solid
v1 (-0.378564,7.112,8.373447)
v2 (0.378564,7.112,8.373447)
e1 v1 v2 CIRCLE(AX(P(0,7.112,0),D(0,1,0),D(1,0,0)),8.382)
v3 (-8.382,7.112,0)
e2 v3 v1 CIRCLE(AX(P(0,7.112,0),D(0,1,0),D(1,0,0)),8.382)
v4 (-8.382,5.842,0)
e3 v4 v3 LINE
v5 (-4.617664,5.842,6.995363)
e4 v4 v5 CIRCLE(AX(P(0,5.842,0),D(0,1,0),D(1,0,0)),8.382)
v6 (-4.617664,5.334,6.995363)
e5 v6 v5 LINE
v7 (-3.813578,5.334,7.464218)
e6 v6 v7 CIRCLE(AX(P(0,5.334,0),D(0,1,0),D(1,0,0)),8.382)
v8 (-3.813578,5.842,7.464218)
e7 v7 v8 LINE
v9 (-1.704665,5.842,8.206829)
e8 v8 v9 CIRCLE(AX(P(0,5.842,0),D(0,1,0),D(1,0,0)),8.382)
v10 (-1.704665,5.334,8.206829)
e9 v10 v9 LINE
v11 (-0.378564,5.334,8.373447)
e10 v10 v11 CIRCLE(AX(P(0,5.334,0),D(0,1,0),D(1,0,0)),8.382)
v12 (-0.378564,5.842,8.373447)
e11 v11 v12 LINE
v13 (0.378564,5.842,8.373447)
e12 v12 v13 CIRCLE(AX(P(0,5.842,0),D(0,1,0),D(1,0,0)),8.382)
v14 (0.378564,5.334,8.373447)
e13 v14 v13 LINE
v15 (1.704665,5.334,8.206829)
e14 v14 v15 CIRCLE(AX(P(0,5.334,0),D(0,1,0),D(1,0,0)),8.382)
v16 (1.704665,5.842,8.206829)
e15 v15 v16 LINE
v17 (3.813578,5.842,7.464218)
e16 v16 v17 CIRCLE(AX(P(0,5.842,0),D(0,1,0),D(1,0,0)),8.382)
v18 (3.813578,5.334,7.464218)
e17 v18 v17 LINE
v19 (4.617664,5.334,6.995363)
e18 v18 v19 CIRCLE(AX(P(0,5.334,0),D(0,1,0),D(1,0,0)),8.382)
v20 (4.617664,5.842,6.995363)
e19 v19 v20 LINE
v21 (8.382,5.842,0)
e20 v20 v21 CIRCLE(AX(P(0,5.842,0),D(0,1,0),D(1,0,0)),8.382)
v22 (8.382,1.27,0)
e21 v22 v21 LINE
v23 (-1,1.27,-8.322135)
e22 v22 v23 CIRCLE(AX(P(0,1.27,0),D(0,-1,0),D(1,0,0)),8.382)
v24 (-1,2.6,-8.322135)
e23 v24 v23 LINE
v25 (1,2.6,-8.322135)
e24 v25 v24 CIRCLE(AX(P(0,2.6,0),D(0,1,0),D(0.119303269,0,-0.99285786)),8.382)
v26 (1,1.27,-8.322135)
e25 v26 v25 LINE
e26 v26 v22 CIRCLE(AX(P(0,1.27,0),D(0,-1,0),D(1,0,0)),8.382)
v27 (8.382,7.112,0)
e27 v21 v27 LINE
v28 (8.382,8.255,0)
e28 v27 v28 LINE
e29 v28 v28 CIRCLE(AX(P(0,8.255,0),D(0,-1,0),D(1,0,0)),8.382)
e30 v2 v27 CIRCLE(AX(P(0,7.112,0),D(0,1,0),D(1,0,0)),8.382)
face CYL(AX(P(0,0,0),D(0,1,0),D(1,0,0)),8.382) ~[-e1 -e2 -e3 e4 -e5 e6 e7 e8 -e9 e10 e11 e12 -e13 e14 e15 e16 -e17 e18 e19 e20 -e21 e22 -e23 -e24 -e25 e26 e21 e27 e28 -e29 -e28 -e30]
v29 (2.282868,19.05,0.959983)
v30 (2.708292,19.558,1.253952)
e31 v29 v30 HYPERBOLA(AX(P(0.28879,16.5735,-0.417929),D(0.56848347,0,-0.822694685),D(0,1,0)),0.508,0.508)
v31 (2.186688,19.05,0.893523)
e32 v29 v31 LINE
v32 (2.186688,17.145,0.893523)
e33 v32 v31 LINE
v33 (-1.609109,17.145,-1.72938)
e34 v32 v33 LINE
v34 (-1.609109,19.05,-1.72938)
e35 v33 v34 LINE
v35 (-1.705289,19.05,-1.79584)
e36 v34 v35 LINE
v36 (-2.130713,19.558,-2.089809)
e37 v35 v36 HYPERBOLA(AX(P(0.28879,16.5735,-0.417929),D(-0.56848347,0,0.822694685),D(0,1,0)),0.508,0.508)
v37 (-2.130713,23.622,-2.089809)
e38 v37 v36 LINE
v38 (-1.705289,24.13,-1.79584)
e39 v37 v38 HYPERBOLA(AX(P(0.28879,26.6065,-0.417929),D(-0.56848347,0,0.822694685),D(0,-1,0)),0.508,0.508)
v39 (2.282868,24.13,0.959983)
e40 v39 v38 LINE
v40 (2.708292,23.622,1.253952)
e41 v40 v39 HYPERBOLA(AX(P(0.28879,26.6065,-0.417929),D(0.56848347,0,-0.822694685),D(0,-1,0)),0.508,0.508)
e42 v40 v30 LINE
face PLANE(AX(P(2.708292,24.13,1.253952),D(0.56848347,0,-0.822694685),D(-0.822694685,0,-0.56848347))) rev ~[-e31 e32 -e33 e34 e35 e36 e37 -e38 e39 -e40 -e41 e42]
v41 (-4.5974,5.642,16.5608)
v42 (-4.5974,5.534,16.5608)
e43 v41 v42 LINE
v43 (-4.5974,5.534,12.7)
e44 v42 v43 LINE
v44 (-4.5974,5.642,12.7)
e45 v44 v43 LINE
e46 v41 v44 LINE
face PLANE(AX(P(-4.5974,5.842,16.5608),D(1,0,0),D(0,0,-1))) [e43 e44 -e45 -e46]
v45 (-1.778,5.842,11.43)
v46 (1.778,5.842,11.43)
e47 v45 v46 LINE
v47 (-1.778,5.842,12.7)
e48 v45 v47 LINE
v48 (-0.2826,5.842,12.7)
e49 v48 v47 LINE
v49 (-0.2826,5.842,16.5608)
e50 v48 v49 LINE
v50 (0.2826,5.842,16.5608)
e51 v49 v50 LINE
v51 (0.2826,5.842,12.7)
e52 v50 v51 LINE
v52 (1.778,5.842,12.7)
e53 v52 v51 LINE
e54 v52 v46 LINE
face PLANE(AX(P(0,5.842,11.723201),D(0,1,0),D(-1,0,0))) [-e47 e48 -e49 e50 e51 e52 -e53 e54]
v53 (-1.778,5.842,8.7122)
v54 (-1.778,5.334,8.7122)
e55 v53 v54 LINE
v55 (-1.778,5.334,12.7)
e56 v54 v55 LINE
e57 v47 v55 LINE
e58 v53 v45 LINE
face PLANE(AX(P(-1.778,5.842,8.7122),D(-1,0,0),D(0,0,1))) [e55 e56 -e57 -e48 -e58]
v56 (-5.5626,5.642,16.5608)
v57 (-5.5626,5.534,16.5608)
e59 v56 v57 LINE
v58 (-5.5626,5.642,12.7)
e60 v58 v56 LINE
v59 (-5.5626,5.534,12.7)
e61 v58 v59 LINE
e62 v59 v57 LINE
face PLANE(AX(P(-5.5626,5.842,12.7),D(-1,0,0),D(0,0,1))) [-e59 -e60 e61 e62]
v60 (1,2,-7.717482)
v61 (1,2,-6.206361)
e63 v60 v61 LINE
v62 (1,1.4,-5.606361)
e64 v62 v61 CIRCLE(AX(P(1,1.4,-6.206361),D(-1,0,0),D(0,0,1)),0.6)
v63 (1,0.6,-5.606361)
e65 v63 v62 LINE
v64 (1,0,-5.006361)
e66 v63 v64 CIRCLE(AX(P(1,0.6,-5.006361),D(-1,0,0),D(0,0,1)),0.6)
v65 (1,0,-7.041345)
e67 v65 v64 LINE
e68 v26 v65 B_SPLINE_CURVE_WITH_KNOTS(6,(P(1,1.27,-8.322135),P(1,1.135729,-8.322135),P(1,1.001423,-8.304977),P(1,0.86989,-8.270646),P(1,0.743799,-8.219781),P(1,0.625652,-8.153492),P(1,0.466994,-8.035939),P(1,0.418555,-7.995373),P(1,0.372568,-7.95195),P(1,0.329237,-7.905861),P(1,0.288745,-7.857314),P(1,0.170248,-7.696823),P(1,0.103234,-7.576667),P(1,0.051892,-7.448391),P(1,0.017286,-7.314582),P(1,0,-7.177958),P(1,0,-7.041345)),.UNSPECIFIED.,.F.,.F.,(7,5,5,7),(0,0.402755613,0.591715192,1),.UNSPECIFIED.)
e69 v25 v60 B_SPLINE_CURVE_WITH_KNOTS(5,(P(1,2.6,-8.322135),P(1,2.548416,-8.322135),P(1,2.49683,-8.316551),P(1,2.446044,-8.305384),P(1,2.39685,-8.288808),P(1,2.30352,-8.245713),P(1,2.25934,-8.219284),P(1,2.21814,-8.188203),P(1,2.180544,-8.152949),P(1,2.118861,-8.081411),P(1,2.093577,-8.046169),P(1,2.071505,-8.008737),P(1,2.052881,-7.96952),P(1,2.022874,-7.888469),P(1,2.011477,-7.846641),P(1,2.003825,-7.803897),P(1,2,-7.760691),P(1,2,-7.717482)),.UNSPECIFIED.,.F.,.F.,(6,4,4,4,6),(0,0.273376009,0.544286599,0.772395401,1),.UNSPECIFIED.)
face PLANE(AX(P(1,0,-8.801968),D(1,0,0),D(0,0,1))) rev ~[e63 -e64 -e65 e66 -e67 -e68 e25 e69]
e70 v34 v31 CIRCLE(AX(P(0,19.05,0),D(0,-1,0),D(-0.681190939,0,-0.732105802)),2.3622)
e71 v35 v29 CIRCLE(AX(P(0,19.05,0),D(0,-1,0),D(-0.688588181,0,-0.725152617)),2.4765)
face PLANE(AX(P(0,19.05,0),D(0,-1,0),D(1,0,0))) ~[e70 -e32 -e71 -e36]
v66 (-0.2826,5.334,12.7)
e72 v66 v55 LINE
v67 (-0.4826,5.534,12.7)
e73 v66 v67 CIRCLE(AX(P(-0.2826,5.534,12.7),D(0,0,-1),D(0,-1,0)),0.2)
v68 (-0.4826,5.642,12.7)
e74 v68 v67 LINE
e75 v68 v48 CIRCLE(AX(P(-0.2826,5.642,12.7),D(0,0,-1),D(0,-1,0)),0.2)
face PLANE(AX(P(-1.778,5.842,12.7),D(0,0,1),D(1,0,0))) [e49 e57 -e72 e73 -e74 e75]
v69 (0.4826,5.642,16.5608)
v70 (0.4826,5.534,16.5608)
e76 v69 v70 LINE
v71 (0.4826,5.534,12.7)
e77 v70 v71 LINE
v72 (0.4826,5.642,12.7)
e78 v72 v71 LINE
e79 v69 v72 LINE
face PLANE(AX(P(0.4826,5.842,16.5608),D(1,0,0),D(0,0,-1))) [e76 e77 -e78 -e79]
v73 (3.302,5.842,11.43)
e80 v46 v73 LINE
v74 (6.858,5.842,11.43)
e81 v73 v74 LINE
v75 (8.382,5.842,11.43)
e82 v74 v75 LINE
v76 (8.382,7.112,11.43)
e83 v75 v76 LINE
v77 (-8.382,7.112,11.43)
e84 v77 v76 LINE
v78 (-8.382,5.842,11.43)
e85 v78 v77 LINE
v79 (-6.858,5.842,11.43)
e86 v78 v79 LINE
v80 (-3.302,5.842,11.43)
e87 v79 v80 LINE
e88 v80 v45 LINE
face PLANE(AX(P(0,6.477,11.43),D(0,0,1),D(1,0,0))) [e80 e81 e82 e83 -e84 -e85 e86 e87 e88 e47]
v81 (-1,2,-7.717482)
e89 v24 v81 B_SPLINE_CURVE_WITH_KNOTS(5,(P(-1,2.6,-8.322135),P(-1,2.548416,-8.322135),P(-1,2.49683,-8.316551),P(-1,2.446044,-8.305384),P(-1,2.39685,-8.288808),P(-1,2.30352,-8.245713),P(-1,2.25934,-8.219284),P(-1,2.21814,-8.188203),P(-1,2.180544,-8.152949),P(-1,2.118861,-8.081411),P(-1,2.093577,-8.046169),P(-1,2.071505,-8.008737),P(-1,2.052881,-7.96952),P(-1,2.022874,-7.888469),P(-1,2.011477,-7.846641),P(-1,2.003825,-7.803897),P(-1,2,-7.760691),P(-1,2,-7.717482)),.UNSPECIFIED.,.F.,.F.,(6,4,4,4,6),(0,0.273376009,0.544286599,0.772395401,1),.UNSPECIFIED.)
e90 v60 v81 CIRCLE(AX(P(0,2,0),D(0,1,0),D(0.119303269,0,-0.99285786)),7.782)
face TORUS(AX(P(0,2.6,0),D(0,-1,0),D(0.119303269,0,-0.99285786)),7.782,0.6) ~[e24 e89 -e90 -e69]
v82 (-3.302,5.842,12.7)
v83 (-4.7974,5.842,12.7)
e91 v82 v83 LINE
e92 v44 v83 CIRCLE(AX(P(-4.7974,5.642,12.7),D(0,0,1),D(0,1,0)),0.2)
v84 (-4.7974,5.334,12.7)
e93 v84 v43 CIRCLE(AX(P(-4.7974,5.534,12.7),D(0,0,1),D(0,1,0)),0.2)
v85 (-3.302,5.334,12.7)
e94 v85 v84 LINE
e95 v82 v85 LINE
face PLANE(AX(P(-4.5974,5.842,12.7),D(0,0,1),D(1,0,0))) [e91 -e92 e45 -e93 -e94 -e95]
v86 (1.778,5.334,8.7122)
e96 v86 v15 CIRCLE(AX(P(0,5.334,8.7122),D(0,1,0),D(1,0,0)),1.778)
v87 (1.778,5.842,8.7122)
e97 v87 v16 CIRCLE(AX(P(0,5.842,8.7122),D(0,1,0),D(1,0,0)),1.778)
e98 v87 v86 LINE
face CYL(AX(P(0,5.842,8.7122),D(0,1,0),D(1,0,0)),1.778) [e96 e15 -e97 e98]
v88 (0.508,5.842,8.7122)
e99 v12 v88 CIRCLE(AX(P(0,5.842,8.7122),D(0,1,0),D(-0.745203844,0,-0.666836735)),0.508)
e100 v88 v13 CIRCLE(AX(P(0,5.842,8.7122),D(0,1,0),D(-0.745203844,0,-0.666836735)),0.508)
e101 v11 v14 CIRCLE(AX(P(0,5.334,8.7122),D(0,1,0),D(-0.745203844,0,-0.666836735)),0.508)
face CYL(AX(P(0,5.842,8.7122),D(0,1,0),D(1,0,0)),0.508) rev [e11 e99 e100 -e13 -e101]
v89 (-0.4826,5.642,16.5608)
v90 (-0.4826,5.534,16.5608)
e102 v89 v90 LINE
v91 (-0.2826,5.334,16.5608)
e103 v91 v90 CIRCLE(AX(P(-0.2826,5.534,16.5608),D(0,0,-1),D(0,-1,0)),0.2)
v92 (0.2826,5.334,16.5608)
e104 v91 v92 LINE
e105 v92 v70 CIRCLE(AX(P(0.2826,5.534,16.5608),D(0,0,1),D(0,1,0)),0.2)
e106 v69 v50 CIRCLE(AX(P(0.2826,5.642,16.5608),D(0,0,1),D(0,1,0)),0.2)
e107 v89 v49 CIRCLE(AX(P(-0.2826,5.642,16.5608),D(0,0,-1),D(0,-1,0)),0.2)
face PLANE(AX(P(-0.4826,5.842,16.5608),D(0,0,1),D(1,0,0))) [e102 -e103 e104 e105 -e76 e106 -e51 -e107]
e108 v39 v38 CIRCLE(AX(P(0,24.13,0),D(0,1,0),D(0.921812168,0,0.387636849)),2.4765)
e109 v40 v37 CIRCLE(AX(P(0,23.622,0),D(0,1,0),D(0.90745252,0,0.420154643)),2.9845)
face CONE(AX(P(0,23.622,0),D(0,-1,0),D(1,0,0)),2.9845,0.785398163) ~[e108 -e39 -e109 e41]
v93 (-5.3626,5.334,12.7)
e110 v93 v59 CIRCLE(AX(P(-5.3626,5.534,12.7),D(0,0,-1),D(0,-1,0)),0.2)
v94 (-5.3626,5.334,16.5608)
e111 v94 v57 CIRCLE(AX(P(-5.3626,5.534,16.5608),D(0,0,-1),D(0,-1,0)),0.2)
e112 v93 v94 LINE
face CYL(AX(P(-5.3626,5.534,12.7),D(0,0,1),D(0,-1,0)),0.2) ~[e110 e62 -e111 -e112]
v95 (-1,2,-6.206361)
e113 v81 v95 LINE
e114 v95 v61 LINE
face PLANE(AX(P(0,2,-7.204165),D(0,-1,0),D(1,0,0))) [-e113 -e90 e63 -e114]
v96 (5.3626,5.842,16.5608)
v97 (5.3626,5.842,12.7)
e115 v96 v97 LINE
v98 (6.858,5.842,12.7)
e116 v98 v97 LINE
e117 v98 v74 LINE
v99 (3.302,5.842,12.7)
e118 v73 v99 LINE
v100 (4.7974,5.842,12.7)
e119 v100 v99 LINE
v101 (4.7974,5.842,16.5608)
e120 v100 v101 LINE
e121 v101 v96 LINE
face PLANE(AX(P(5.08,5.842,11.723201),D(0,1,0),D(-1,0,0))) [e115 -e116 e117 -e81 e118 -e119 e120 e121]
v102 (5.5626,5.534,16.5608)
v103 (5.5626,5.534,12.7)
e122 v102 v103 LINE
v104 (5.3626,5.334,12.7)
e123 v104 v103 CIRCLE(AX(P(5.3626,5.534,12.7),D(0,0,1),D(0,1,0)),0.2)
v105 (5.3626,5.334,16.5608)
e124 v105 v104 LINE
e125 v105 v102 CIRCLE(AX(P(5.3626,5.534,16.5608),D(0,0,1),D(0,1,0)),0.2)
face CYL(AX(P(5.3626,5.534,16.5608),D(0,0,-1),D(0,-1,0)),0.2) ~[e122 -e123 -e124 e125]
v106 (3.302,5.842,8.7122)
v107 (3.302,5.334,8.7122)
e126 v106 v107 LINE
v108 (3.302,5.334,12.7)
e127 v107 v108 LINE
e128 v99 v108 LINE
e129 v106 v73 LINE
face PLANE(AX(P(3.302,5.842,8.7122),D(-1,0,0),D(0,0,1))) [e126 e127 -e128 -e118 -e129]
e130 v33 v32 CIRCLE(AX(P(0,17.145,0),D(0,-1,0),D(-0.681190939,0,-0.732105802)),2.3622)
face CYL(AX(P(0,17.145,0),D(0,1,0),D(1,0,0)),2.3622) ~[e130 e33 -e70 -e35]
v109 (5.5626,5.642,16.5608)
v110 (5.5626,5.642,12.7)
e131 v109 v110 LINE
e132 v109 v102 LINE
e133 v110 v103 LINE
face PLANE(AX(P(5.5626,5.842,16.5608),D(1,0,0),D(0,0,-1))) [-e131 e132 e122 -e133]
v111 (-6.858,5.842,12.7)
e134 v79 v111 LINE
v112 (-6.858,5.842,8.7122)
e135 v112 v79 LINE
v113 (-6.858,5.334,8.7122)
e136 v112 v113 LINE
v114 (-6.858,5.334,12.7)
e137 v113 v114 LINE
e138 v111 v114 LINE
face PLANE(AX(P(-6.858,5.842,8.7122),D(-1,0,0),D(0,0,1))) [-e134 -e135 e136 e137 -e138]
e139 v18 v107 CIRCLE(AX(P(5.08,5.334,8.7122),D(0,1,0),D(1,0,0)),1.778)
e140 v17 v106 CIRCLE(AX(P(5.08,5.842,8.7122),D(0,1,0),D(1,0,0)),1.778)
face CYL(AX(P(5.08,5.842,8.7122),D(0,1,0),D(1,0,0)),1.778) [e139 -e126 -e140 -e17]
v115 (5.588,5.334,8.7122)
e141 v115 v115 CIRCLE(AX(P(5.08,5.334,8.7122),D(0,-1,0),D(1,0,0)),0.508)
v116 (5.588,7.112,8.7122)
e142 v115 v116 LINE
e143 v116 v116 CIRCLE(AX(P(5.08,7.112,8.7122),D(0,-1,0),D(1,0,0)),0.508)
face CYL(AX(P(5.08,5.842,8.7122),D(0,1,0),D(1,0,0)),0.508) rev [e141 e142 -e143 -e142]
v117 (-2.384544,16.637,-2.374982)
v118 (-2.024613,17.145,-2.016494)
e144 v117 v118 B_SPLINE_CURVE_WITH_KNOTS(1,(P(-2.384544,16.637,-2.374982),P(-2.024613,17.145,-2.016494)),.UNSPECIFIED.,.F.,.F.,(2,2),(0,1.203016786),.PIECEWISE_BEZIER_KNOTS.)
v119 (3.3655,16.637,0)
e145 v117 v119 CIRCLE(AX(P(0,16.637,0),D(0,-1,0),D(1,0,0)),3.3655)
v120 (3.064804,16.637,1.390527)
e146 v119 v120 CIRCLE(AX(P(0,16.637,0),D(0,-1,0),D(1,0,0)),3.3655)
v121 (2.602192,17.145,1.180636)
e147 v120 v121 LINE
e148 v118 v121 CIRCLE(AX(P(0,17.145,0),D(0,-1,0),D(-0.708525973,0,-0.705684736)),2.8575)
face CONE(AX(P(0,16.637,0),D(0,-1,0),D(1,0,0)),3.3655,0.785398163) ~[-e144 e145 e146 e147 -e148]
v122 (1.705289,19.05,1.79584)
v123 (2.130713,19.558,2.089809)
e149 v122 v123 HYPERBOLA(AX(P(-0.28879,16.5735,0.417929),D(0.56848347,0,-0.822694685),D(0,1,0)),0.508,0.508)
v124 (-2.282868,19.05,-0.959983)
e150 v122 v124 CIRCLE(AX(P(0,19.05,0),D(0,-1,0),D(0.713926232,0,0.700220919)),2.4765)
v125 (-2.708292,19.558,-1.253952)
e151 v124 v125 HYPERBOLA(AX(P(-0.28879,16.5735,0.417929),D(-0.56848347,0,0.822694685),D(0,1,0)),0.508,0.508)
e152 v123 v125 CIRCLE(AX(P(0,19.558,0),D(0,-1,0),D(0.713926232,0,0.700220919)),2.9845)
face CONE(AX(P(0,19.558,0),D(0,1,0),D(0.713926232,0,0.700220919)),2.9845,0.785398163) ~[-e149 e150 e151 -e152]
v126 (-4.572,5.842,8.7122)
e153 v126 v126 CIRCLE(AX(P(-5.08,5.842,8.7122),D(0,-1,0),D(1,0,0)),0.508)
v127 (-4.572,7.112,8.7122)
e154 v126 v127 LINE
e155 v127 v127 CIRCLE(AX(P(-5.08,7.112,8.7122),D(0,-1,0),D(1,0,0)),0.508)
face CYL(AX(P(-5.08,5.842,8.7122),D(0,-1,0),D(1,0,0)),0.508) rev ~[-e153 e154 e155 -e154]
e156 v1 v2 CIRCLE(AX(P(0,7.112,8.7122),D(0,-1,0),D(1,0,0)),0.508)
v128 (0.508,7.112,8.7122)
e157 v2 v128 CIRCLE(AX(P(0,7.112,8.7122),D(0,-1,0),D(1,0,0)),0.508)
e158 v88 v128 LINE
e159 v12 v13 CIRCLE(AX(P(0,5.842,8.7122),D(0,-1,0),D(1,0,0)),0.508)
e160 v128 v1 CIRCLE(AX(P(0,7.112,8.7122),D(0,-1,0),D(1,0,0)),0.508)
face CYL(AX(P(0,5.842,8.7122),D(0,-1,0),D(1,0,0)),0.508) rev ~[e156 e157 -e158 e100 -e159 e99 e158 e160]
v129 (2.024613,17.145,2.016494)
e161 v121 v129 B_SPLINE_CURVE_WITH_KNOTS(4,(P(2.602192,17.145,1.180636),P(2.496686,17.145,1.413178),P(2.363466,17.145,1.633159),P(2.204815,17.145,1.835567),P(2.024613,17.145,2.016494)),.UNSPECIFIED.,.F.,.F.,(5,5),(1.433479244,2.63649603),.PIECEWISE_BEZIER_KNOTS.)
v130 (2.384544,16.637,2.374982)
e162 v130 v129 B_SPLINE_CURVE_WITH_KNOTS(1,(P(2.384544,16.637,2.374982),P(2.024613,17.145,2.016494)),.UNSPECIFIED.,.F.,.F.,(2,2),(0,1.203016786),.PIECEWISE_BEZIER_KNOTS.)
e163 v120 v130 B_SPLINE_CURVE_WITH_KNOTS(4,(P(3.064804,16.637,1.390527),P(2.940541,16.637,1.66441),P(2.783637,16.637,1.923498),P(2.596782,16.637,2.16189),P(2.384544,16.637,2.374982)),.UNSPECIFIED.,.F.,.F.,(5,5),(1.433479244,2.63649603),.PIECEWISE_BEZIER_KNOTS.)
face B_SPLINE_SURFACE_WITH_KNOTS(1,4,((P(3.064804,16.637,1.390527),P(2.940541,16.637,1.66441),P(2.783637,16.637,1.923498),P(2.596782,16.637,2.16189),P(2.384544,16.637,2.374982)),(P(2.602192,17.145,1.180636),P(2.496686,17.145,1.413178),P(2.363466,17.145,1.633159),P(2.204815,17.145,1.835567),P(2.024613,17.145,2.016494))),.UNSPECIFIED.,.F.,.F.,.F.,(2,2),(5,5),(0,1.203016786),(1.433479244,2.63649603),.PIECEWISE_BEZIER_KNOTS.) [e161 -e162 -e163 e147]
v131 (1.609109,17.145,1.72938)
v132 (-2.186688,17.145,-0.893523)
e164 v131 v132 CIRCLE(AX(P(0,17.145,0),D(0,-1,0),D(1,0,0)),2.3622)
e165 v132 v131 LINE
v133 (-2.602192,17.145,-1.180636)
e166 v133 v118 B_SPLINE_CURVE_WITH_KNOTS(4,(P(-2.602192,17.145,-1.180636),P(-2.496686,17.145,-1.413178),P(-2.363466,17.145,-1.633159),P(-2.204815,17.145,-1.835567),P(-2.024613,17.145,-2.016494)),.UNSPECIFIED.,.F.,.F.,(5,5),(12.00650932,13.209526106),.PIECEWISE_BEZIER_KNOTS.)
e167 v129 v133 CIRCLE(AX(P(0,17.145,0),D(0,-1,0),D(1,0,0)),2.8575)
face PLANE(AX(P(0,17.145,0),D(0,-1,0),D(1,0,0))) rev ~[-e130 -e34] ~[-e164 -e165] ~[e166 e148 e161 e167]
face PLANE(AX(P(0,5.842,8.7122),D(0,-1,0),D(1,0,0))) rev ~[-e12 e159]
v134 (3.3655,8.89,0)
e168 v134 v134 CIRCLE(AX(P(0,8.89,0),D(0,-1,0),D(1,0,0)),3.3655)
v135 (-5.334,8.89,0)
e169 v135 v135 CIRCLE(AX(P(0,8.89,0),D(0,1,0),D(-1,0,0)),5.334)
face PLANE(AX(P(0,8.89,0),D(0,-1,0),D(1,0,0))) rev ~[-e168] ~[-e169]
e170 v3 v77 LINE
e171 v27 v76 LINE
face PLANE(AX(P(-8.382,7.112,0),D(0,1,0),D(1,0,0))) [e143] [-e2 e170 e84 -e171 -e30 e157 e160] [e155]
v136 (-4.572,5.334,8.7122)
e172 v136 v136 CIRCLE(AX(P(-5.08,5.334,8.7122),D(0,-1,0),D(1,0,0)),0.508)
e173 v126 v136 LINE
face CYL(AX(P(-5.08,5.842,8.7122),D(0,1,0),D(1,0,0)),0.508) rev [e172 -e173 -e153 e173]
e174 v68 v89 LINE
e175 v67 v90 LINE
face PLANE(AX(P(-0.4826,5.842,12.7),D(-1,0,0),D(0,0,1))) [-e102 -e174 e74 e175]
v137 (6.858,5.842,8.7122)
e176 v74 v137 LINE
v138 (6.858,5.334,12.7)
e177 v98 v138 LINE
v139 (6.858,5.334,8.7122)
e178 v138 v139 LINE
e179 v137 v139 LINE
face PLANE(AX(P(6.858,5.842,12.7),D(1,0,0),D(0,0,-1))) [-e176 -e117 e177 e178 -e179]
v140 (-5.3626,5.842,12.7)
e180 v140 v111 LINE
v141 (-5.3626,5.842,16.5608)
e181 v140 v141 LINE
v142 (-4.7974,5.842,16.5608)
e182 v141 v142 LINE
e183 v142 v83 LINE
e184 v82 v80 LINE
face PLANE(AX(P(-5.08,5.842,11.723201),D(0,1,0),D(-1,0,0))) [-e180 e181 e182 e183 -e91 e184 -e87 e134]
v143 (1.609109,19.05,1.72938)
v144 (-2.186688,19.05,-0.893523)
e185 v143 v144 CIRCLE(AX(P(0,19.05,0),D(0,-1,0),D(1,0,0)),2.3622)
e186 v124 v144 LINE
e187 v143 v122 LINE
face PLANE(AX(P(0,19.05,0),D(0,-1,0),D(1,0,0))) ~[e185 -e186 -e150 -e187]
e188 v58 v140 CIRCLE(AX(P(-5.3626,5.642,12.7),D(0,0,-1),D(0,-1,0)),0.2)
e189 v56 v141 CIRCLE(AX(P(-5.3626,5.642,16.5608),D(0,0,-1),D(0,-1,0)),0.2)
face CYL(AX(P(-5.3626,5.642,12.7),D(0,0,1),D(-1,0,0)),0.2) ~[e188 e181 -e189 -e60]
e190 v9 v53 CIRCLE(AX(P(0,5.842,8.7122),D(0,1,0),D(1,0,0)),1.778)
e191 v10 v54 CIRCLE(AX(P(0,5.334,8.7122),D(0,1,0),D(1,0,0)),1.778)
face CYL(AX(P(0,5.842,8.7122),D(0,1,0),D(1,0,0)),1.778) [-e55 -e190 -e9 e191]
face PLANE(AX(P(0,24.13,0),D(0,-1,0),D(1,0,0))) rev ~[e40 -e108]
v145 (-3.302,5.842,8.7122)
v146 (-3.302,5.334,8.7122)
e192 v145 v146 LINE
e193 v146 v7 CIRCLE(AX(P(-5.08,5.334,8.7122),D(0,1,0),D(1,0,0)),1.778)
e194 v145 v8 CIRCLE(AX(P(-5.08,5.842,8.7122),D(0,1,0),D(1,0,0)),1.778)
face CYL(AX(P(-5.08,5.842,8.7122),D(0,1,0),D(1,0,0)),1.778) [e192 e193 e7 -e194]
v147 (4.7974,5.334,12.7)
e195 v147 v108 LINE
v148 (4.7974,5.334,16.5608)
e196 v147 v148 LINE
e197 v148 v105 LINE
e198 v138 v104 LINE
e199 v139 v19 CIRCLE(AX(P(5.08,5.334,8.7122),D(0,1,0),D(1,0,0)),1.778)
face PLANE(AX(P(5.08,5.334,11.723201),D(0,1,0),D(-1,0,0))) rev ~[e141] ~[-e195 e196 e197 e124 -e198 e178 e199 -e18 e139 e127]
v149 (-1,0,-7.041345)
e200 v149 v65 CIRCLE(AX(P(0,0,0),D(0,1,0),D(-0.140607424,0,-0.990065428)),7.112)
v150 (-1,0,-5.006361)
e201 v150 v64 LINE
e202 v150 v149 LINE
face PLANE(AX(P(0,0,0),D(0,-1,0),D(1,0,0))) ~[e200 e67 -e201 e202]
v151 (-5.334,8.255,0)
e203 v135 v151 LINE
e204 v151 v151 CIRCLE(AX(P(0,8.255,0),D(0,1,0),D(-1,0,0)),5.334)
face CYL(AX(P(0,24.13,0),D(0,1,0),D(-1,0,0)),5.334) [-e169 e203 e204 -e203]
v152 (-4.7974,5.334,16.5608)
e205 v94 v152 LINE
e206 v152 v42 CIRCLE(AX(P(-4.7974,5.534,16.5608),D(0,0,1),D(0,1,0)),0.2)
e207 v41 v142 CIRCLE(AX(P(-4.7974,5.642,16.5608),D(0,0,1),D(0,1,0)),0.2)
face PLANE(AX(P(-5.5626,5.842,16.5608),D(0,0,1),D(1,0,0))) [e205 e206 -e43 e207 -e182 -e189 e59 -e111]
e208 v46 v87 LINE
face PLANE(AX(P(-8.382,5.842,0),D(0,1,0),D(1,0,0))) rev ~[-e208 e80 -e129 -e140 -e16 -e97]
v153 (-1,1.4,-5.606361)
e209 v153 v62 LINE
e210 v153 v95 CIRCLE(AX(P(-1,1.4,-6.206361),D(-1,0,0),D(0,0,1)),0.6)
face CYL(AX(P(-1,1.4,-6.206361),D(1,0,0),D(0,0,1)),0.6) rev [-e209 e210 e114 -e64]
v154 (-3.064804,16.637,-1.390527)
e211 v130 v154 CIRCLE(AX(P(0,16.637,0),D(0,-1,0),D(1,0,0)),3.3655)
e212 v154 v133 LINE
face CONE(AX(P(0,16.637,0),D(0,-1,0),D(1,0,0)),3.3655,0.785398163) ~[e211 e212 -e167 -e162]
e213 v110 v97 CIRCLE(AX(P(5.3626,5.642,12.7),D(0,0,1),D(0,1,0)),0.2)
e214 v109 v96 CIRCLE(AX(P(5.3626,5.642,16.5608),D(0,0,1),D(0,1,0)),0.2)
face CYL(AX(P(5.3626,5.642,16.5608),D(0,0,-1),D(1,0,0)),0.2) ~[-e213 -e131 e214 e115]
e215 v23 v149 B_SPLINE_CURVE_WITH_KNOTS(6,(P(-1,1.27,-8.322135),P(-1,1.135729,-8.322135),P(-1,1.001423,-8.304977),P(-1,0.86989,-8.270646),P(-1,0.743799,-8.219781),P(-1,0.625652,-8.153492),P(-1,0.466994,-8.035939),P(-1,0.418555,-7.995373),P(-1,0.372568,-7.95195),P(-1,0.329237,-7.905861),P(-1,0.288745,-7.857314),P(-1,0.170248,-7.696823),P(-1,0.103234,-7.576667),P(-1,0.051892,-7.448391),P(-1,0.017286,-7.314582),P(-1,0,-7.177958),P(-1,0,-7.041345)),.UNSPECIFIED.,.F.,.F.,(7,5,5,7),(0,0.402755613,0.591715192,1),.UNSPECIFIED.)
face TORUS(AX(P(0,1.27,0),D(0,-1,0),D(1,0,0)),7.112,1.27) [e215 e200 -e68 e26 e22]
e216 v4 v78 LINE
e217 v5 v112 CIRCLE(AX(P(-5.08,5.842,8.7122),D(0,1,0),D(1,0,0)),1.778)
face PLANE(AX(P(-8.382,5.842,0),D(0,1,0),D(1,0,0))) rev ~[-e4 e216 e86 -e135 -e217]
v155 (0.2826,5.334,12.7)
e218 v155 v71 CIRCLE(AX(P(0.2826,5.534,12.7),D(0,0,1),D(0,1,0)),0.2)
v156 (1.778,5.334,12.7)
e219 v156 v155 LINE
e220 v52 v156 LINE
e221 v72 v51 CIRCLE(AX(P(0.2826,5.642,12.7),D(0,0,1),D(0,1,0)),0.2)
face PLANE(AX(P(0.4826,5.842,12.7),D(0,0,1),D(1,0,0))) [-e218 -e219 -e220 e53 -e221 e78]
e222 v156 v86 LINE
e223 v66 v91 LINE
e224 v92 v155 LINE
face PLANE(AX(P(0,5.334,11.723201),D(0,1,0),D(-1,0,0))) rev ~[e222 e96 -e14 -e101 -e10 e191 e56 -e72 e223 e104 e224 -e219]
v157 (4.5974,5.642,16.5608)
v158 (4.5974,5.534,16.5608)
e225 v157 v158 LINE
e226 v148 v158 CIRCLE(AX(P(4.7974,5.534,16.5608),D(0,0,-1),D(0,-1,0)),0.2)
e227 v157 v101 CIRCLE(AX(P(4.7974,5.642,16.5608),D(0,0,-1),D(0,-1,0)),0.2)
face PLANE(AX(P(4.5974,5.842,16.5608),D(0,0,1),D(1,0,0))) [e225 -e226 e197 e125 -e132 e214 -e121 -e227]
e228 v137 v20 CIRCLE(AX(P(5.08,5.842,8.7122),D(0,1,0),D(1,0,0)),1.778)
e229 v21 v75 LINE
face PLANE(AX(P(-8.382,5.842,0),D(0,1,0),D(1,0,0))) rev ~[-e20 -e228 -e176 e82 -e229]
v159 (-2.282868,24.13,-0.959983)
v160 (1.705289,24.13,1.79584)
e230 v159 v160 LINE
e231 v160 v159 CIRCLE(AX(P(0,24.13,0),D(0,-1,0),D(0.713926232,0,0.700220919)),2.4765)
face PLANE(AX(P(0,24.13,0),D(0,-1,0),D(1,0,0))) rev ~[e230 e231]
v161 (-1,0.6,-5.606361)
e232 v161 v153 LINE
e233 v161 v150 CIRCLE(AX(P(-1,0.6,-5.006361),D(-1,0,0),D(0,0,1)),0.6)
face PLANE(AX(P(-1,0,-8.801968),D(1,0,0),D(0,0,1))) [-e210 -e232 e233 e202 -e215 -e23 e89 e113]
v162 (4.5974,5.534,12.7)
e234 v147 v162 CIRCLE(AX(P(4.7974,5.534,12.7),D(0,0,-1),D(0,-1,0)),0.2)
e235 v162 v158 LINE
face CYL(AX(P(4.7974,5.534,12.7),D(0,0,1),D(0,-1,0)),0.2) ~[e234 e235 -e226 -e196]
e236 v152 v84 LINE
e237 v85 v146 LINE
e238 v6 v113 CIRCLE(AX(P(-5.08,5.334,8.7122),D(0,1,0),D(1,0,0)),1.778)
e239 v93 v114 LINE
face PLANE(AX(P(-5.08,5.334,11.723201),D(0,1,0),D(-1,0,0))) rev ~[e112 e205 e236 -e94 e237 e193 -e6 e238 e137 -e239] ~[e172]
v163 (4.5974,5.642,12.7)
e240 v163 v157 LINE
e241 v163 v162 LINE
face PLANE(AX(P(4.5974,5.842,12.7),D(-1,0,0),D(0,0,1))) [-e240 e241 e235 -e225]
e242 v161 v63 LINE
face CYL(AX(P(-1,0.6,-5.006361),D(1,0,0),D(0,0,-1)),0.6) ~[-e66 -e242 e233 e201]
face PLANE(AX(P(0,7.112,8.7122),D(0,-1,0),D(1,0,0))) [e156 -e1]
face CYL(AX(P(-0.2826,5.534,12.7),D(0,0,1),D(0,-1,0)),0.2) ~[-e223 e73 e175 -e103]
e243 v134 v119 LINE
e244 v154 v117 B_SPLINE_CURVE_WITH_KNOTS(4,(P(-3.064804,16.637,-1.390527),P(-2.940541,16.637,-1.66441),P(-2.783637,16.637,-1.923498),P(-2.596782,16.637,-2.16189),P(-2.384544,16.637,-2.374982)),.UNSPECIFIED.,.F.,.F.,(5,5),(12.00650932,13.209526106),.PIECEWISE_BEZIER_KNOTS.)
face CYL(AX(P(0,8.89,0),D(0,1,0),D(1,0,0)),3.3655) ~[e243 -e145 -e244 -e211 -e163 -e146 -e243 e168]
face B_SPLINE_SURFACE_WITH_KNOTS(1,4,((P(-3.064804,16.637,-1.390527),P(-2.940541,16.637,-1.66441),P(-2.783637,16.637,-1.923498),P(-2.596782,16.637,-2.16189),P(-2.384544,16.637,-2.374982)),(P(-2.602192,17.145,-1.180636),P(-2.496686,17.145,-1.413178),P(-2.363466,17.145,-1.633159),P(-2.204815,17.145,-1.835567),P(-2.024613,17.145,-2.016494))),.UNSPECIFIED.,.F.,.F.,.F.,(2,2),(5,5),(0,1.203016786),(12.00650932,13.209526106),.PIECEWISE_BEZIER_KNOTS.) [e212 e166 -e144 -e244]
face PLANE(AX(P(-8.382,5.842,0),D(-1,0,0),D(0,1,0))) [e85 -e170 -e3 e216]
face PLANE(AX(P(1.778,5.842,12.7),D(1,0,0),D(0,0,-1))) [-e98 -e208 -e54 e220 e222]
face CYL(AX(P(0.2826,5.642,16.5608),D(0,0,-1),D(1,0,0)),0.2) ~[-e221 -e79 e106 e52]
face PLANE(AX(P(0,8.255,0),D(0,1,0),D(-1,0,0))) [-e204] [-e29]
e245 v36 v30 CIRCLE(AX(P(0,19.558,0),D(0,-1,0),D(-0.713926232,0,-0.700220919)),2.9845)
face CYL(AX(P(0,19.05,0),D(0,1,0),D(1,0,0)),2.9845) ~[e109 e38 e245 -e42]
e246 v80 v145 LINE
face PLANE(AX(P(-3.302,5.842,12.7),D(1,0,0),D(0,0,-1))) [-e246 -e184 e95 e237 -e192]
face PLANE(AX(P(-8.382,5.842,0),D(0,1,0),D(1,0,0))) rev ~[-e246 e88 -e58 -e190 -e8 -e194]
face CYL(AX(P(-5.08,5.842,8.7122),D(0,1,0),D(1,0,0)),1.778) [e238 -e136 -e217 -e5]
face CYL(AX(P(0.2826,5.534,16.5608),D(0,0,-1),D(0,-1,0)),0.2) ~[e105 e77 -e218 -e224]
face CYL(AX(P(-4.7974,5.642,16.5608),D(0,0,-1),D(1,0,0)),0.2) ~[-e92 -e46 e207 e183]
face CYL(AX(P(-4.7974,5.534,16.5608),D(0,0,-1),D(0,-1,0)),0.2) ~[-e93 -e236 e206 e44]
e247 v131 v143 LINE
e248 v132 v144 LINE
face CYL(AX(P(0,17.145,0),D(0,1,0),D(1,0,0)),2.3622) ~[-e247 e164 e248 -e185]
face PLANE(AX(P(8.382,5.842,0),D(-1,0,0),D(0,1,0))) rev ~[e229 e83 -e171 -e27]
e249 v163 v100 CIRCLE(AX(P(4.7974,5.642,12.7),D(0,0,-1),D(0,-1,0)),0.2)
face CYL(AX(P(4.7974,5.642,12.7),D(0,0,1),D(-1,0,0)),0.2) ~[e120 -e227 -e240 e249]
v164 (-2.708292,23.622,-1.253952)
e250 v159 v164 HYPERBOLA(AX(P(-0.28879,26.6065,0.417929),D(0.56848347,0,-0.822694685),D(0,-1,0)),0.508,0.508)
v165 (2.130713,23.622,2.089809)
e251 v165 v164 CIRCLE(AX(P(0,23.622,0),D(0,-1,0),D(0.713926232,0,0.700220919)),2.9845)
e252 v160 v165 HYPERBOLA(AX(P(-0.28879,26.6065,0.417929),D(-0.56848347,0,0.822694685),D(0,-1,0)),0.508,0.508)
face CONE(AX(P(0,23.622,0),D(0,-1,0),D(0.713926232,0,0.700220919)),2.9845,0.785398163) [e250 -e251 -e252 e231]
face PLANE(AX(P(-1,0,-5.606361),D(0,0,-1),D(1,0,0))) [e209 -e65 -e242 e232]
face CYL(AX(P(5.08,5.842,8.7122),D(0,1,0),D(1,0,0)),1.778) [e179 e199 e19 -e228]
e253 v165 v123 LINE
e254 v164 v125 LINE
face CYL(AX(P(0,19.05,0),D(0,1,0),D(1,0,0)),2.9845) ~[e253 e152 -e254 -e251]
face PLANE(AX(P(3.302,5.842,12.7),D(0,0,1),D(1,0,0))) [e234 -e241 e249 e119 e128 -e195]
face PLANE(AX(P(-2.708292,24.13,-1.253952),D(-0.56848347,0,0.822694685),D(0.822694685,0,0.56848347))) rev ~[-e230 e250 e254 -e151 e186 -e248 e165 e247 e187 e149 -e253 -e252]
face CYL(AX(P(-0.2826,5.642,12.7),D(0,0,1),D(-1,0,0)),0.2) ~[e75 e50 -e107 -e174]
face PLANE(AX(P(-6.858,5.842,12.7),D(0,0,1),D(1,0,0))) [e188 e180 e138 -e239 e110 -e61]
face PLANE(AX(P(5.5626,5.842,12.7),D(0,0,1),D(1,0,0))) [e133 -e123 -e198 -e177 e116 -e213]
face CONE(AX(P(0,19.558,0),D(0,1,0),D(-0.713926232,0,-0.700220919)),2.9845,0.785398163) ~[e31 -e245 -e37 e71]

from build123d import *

# Parameters (mm, degrees)
SKETCH2_W           = 16.764
SKETCH2_H           = 1.27
BOSS_EXTRUDE1_DEPTH = 11.43
SKETCH3_R           = 0.508
BOSS_EXTRUDE2_DEPTH = 0.508
SKETCH5_R           = 8.382
SKETCH5_R_2         = 5.334
CUT_EXTRUDE2_DEPTH  = 15.875
LPATTERN1_COUNT     = 2
LPATTERN1_PITCH     = 5.08
LPATTERN2_COUNT     = 2
LPATTERN2_PITCH     = 5.08
SKETCH7_R           = 0.508
CUT_EXTRUDE3_DEPTH  = 1.27
CUT_EXTRUDE4_DEPTH  = 6.985
CHAMFER1_SIZE       = 0.508
FILLET1_R           = 1.27
FILLET2_R           = 0.2
SKETCH9_W           = 2
SKETCH9_H           = 3.195606775
CUT_EXTRUDE5_DEPTH  = 2
FILLET3_R           = 0.6


with BuildPart() as part:
    # Sketch1 → Base-Revolve (revolve)
    with BuildSketch(Plane.XY):
        Polygon((0, 0), (8.382, 0), (8.382, 8.89), (3.3655, 8.89), (3.3655, 17.145), (2.3622, 17.145), (2.3622, 19.05), (2.9845, 19.05), (2.9845, 24.13), (0, 24.13), align=None)
    revolve(axis=Axis((0, 0, 0), (0, -1, 0)))

    # Sketch2 → Boss-Extrude1 (add)
    with BuildSketch(Plane.XY):
        with Locations((0, 6.477)):
            Rectangle(SKETCH2_W, SKETCH2_H)
    extrude(amount=BOSS_EXTRUDE1_DEPTH)

    # Sketch3 → Boss-Extrude2 (add)
    with BuildSketch(Plane.XZ.offset(-5.842)):
        with BuildLine():
            Line((-1.778, 12.7), (-0.4826, 12.7))
            Line((-0.4826, 12.7), (-0.4826, 16.5608))
            Line((-0.4826, 16.5608), (0.4826, 16.5608))
            Line((0.4826, 16.5608), (0.4826, 12.7))
            Line((0.4826, 12.7), (1.778, 12.7))
            Line((1.778, 12.7), (1.778, 8.7122))
            ThreePointArc((1.778, 8.7122), (0, 6.9342), (-1.778, 8.7122))
            Line((-1.778, 8.7122), (-1.778, 12.7))
        make_face()
        with Locations((0, 8.7122)):
            Circle(SKETCH3_R, mode=Mode.SUBTRACT)
    boss_extrude2 = extrude(amount=BOSS_EXTRUDE2_DEPTH)

    # Sketch5 → Cut-Extrude2 (cut)
    with BuildSketch(Plane(origin=(0, 24.13, 0), x_dir=(-1, 0, 0), z_dir=(0, 1, 0))):
        Circle(SKETCH5_R)
        Circle(SKETCH5_R_2, mode=Mode.SUBTRACT)
    extrude(amount=-CUT_EXTRUDE2_DEPTH, mode=Mode.SUBTRACT)

    # LPattern1: Boss-Extrude2 ×2
    with Locations(*[(-i * LPATTERN1_PITCH, 0, 0) for i in range(1, LPATTERN1_COUNT)]):
        add(boss_extrude2)

    # LPattern2: Boss-Extrude2 ×2
    with Locations(*[(i * LPATTERN2_PITCH, 0, 0) for i in range(1, LPATTERN2_COUNT)]):
        add(boss_extrude2)

    # Sketch7 → Cut-Extrude3 (cut)
    with BuildSketch(Plane.XZ.offset(-5.842)):
        with Locations((-5.08, 8.7122)):
            Circle(SKETCH7_R)
        with Locations((0, 8.7122)):
            Circle(SKETCH7_R)
        with Locations((5.08, 8.7122)):
            Circle(SKETCH7_R)
    extrude(amount=-CUT_EXTRUDE3_DEPTH, mode=Mode.SUBTRACT)

    # Sketch8 → Cut-Extrude4 (cut)
    with BuildSketch(Plane(origin=(0, 24.13, 0), x_dir=(-1, 0, 0), z_dir=(0, 1, 0))):
        with BuildLine():
            Line((-2.708292046, 1.253951532), (2.13071284, -2.089809331))
            ThreePointArc((2.13071284, -2.089809331), (2.455332287, -1.696638916), (2.708292046, -1.253951532))
            Line((2.708292046, -1.253951532), (-2.13071284, 2.089809331))
            ThreePointArc((-2.13071284, 2.089809331), (-2.455332287, 1.696638916), (-2.708292046, 1.253951532))
        make_face()
    extrude(amount=-CUT_EXTRUDE4_DEPTH, mode=Mode.SUBTRACT)

    # Chamfer1
    chamfer1_edges = [part.edges().sort_by_distance(p)[0] for p in [
        (1.128744386, 24.13, -2.762820364),
        (-1.696638916, 24.13, 2.455332287),
        (1.128744386, 19.05, -2.762820364),
        (-1.696638916, 19.05, 2.455332287),
        (-3.3655, 17.145, 0),
    ]]
    chamfer(chamfer1_edges, length=CHAMFER1_SIZE)

    # Fillet1
    fillet1_edges = [part.edges().sort_by_distance(p)[0] for p in [
        (-8.382, 0, 0),
    ]]
    fillet(fillet1_edges, radius=FILLET1_R)

    # Fillet2
    fillet2_edges = [part.edges().sort_by_distance(p)[0] for p in [
        (4.5974, 5.842, 14.6304),
        (5.5626, 5.842, 14.6304),
        (5.5626, 5.334, 14.6304),
        (4.5974, 5.334, 14.6304),
        (-0.4826, 5.842, 14.6304),
        (0.4826, 5.842, 14.6304),
        (0.4826, 5.334, 14.6304),
        (-0.4826, 5.334, 14.6304),
        (-5.5626, 5.842, 14.6304),
        (-4.5974, 5.842, 14.6304),
        (-4.5974, 5.334, 14.6304),
        (-5.5626, 5.334, 14.6304),
    ]]
    fillet(fillet2_edges, radius=FILLET2_R)

    # Sketch9 → Cut-Extrude5 (cut)
    with BuildSketch(Plane.XZ):
        with Locations((0, -7.204164856)):
            Rectangle(SKETCH9_W, SKETCH9_H)
    extrude(amount=-CUT_EXTRUDE5_DEPTH, mode=Mode.SUBTRACT)

    # Fillet3
    fillet3_edges = [part.edges().sort_by_distance(p)[0] for p in [
        (0, 2, -8.382),
        (0, 0, -5.606361468),
        (0, 2, -5.606361468),
    ]]
    fillet(fillet3_edges, radius=FILLET3_R)


solid = part.part
